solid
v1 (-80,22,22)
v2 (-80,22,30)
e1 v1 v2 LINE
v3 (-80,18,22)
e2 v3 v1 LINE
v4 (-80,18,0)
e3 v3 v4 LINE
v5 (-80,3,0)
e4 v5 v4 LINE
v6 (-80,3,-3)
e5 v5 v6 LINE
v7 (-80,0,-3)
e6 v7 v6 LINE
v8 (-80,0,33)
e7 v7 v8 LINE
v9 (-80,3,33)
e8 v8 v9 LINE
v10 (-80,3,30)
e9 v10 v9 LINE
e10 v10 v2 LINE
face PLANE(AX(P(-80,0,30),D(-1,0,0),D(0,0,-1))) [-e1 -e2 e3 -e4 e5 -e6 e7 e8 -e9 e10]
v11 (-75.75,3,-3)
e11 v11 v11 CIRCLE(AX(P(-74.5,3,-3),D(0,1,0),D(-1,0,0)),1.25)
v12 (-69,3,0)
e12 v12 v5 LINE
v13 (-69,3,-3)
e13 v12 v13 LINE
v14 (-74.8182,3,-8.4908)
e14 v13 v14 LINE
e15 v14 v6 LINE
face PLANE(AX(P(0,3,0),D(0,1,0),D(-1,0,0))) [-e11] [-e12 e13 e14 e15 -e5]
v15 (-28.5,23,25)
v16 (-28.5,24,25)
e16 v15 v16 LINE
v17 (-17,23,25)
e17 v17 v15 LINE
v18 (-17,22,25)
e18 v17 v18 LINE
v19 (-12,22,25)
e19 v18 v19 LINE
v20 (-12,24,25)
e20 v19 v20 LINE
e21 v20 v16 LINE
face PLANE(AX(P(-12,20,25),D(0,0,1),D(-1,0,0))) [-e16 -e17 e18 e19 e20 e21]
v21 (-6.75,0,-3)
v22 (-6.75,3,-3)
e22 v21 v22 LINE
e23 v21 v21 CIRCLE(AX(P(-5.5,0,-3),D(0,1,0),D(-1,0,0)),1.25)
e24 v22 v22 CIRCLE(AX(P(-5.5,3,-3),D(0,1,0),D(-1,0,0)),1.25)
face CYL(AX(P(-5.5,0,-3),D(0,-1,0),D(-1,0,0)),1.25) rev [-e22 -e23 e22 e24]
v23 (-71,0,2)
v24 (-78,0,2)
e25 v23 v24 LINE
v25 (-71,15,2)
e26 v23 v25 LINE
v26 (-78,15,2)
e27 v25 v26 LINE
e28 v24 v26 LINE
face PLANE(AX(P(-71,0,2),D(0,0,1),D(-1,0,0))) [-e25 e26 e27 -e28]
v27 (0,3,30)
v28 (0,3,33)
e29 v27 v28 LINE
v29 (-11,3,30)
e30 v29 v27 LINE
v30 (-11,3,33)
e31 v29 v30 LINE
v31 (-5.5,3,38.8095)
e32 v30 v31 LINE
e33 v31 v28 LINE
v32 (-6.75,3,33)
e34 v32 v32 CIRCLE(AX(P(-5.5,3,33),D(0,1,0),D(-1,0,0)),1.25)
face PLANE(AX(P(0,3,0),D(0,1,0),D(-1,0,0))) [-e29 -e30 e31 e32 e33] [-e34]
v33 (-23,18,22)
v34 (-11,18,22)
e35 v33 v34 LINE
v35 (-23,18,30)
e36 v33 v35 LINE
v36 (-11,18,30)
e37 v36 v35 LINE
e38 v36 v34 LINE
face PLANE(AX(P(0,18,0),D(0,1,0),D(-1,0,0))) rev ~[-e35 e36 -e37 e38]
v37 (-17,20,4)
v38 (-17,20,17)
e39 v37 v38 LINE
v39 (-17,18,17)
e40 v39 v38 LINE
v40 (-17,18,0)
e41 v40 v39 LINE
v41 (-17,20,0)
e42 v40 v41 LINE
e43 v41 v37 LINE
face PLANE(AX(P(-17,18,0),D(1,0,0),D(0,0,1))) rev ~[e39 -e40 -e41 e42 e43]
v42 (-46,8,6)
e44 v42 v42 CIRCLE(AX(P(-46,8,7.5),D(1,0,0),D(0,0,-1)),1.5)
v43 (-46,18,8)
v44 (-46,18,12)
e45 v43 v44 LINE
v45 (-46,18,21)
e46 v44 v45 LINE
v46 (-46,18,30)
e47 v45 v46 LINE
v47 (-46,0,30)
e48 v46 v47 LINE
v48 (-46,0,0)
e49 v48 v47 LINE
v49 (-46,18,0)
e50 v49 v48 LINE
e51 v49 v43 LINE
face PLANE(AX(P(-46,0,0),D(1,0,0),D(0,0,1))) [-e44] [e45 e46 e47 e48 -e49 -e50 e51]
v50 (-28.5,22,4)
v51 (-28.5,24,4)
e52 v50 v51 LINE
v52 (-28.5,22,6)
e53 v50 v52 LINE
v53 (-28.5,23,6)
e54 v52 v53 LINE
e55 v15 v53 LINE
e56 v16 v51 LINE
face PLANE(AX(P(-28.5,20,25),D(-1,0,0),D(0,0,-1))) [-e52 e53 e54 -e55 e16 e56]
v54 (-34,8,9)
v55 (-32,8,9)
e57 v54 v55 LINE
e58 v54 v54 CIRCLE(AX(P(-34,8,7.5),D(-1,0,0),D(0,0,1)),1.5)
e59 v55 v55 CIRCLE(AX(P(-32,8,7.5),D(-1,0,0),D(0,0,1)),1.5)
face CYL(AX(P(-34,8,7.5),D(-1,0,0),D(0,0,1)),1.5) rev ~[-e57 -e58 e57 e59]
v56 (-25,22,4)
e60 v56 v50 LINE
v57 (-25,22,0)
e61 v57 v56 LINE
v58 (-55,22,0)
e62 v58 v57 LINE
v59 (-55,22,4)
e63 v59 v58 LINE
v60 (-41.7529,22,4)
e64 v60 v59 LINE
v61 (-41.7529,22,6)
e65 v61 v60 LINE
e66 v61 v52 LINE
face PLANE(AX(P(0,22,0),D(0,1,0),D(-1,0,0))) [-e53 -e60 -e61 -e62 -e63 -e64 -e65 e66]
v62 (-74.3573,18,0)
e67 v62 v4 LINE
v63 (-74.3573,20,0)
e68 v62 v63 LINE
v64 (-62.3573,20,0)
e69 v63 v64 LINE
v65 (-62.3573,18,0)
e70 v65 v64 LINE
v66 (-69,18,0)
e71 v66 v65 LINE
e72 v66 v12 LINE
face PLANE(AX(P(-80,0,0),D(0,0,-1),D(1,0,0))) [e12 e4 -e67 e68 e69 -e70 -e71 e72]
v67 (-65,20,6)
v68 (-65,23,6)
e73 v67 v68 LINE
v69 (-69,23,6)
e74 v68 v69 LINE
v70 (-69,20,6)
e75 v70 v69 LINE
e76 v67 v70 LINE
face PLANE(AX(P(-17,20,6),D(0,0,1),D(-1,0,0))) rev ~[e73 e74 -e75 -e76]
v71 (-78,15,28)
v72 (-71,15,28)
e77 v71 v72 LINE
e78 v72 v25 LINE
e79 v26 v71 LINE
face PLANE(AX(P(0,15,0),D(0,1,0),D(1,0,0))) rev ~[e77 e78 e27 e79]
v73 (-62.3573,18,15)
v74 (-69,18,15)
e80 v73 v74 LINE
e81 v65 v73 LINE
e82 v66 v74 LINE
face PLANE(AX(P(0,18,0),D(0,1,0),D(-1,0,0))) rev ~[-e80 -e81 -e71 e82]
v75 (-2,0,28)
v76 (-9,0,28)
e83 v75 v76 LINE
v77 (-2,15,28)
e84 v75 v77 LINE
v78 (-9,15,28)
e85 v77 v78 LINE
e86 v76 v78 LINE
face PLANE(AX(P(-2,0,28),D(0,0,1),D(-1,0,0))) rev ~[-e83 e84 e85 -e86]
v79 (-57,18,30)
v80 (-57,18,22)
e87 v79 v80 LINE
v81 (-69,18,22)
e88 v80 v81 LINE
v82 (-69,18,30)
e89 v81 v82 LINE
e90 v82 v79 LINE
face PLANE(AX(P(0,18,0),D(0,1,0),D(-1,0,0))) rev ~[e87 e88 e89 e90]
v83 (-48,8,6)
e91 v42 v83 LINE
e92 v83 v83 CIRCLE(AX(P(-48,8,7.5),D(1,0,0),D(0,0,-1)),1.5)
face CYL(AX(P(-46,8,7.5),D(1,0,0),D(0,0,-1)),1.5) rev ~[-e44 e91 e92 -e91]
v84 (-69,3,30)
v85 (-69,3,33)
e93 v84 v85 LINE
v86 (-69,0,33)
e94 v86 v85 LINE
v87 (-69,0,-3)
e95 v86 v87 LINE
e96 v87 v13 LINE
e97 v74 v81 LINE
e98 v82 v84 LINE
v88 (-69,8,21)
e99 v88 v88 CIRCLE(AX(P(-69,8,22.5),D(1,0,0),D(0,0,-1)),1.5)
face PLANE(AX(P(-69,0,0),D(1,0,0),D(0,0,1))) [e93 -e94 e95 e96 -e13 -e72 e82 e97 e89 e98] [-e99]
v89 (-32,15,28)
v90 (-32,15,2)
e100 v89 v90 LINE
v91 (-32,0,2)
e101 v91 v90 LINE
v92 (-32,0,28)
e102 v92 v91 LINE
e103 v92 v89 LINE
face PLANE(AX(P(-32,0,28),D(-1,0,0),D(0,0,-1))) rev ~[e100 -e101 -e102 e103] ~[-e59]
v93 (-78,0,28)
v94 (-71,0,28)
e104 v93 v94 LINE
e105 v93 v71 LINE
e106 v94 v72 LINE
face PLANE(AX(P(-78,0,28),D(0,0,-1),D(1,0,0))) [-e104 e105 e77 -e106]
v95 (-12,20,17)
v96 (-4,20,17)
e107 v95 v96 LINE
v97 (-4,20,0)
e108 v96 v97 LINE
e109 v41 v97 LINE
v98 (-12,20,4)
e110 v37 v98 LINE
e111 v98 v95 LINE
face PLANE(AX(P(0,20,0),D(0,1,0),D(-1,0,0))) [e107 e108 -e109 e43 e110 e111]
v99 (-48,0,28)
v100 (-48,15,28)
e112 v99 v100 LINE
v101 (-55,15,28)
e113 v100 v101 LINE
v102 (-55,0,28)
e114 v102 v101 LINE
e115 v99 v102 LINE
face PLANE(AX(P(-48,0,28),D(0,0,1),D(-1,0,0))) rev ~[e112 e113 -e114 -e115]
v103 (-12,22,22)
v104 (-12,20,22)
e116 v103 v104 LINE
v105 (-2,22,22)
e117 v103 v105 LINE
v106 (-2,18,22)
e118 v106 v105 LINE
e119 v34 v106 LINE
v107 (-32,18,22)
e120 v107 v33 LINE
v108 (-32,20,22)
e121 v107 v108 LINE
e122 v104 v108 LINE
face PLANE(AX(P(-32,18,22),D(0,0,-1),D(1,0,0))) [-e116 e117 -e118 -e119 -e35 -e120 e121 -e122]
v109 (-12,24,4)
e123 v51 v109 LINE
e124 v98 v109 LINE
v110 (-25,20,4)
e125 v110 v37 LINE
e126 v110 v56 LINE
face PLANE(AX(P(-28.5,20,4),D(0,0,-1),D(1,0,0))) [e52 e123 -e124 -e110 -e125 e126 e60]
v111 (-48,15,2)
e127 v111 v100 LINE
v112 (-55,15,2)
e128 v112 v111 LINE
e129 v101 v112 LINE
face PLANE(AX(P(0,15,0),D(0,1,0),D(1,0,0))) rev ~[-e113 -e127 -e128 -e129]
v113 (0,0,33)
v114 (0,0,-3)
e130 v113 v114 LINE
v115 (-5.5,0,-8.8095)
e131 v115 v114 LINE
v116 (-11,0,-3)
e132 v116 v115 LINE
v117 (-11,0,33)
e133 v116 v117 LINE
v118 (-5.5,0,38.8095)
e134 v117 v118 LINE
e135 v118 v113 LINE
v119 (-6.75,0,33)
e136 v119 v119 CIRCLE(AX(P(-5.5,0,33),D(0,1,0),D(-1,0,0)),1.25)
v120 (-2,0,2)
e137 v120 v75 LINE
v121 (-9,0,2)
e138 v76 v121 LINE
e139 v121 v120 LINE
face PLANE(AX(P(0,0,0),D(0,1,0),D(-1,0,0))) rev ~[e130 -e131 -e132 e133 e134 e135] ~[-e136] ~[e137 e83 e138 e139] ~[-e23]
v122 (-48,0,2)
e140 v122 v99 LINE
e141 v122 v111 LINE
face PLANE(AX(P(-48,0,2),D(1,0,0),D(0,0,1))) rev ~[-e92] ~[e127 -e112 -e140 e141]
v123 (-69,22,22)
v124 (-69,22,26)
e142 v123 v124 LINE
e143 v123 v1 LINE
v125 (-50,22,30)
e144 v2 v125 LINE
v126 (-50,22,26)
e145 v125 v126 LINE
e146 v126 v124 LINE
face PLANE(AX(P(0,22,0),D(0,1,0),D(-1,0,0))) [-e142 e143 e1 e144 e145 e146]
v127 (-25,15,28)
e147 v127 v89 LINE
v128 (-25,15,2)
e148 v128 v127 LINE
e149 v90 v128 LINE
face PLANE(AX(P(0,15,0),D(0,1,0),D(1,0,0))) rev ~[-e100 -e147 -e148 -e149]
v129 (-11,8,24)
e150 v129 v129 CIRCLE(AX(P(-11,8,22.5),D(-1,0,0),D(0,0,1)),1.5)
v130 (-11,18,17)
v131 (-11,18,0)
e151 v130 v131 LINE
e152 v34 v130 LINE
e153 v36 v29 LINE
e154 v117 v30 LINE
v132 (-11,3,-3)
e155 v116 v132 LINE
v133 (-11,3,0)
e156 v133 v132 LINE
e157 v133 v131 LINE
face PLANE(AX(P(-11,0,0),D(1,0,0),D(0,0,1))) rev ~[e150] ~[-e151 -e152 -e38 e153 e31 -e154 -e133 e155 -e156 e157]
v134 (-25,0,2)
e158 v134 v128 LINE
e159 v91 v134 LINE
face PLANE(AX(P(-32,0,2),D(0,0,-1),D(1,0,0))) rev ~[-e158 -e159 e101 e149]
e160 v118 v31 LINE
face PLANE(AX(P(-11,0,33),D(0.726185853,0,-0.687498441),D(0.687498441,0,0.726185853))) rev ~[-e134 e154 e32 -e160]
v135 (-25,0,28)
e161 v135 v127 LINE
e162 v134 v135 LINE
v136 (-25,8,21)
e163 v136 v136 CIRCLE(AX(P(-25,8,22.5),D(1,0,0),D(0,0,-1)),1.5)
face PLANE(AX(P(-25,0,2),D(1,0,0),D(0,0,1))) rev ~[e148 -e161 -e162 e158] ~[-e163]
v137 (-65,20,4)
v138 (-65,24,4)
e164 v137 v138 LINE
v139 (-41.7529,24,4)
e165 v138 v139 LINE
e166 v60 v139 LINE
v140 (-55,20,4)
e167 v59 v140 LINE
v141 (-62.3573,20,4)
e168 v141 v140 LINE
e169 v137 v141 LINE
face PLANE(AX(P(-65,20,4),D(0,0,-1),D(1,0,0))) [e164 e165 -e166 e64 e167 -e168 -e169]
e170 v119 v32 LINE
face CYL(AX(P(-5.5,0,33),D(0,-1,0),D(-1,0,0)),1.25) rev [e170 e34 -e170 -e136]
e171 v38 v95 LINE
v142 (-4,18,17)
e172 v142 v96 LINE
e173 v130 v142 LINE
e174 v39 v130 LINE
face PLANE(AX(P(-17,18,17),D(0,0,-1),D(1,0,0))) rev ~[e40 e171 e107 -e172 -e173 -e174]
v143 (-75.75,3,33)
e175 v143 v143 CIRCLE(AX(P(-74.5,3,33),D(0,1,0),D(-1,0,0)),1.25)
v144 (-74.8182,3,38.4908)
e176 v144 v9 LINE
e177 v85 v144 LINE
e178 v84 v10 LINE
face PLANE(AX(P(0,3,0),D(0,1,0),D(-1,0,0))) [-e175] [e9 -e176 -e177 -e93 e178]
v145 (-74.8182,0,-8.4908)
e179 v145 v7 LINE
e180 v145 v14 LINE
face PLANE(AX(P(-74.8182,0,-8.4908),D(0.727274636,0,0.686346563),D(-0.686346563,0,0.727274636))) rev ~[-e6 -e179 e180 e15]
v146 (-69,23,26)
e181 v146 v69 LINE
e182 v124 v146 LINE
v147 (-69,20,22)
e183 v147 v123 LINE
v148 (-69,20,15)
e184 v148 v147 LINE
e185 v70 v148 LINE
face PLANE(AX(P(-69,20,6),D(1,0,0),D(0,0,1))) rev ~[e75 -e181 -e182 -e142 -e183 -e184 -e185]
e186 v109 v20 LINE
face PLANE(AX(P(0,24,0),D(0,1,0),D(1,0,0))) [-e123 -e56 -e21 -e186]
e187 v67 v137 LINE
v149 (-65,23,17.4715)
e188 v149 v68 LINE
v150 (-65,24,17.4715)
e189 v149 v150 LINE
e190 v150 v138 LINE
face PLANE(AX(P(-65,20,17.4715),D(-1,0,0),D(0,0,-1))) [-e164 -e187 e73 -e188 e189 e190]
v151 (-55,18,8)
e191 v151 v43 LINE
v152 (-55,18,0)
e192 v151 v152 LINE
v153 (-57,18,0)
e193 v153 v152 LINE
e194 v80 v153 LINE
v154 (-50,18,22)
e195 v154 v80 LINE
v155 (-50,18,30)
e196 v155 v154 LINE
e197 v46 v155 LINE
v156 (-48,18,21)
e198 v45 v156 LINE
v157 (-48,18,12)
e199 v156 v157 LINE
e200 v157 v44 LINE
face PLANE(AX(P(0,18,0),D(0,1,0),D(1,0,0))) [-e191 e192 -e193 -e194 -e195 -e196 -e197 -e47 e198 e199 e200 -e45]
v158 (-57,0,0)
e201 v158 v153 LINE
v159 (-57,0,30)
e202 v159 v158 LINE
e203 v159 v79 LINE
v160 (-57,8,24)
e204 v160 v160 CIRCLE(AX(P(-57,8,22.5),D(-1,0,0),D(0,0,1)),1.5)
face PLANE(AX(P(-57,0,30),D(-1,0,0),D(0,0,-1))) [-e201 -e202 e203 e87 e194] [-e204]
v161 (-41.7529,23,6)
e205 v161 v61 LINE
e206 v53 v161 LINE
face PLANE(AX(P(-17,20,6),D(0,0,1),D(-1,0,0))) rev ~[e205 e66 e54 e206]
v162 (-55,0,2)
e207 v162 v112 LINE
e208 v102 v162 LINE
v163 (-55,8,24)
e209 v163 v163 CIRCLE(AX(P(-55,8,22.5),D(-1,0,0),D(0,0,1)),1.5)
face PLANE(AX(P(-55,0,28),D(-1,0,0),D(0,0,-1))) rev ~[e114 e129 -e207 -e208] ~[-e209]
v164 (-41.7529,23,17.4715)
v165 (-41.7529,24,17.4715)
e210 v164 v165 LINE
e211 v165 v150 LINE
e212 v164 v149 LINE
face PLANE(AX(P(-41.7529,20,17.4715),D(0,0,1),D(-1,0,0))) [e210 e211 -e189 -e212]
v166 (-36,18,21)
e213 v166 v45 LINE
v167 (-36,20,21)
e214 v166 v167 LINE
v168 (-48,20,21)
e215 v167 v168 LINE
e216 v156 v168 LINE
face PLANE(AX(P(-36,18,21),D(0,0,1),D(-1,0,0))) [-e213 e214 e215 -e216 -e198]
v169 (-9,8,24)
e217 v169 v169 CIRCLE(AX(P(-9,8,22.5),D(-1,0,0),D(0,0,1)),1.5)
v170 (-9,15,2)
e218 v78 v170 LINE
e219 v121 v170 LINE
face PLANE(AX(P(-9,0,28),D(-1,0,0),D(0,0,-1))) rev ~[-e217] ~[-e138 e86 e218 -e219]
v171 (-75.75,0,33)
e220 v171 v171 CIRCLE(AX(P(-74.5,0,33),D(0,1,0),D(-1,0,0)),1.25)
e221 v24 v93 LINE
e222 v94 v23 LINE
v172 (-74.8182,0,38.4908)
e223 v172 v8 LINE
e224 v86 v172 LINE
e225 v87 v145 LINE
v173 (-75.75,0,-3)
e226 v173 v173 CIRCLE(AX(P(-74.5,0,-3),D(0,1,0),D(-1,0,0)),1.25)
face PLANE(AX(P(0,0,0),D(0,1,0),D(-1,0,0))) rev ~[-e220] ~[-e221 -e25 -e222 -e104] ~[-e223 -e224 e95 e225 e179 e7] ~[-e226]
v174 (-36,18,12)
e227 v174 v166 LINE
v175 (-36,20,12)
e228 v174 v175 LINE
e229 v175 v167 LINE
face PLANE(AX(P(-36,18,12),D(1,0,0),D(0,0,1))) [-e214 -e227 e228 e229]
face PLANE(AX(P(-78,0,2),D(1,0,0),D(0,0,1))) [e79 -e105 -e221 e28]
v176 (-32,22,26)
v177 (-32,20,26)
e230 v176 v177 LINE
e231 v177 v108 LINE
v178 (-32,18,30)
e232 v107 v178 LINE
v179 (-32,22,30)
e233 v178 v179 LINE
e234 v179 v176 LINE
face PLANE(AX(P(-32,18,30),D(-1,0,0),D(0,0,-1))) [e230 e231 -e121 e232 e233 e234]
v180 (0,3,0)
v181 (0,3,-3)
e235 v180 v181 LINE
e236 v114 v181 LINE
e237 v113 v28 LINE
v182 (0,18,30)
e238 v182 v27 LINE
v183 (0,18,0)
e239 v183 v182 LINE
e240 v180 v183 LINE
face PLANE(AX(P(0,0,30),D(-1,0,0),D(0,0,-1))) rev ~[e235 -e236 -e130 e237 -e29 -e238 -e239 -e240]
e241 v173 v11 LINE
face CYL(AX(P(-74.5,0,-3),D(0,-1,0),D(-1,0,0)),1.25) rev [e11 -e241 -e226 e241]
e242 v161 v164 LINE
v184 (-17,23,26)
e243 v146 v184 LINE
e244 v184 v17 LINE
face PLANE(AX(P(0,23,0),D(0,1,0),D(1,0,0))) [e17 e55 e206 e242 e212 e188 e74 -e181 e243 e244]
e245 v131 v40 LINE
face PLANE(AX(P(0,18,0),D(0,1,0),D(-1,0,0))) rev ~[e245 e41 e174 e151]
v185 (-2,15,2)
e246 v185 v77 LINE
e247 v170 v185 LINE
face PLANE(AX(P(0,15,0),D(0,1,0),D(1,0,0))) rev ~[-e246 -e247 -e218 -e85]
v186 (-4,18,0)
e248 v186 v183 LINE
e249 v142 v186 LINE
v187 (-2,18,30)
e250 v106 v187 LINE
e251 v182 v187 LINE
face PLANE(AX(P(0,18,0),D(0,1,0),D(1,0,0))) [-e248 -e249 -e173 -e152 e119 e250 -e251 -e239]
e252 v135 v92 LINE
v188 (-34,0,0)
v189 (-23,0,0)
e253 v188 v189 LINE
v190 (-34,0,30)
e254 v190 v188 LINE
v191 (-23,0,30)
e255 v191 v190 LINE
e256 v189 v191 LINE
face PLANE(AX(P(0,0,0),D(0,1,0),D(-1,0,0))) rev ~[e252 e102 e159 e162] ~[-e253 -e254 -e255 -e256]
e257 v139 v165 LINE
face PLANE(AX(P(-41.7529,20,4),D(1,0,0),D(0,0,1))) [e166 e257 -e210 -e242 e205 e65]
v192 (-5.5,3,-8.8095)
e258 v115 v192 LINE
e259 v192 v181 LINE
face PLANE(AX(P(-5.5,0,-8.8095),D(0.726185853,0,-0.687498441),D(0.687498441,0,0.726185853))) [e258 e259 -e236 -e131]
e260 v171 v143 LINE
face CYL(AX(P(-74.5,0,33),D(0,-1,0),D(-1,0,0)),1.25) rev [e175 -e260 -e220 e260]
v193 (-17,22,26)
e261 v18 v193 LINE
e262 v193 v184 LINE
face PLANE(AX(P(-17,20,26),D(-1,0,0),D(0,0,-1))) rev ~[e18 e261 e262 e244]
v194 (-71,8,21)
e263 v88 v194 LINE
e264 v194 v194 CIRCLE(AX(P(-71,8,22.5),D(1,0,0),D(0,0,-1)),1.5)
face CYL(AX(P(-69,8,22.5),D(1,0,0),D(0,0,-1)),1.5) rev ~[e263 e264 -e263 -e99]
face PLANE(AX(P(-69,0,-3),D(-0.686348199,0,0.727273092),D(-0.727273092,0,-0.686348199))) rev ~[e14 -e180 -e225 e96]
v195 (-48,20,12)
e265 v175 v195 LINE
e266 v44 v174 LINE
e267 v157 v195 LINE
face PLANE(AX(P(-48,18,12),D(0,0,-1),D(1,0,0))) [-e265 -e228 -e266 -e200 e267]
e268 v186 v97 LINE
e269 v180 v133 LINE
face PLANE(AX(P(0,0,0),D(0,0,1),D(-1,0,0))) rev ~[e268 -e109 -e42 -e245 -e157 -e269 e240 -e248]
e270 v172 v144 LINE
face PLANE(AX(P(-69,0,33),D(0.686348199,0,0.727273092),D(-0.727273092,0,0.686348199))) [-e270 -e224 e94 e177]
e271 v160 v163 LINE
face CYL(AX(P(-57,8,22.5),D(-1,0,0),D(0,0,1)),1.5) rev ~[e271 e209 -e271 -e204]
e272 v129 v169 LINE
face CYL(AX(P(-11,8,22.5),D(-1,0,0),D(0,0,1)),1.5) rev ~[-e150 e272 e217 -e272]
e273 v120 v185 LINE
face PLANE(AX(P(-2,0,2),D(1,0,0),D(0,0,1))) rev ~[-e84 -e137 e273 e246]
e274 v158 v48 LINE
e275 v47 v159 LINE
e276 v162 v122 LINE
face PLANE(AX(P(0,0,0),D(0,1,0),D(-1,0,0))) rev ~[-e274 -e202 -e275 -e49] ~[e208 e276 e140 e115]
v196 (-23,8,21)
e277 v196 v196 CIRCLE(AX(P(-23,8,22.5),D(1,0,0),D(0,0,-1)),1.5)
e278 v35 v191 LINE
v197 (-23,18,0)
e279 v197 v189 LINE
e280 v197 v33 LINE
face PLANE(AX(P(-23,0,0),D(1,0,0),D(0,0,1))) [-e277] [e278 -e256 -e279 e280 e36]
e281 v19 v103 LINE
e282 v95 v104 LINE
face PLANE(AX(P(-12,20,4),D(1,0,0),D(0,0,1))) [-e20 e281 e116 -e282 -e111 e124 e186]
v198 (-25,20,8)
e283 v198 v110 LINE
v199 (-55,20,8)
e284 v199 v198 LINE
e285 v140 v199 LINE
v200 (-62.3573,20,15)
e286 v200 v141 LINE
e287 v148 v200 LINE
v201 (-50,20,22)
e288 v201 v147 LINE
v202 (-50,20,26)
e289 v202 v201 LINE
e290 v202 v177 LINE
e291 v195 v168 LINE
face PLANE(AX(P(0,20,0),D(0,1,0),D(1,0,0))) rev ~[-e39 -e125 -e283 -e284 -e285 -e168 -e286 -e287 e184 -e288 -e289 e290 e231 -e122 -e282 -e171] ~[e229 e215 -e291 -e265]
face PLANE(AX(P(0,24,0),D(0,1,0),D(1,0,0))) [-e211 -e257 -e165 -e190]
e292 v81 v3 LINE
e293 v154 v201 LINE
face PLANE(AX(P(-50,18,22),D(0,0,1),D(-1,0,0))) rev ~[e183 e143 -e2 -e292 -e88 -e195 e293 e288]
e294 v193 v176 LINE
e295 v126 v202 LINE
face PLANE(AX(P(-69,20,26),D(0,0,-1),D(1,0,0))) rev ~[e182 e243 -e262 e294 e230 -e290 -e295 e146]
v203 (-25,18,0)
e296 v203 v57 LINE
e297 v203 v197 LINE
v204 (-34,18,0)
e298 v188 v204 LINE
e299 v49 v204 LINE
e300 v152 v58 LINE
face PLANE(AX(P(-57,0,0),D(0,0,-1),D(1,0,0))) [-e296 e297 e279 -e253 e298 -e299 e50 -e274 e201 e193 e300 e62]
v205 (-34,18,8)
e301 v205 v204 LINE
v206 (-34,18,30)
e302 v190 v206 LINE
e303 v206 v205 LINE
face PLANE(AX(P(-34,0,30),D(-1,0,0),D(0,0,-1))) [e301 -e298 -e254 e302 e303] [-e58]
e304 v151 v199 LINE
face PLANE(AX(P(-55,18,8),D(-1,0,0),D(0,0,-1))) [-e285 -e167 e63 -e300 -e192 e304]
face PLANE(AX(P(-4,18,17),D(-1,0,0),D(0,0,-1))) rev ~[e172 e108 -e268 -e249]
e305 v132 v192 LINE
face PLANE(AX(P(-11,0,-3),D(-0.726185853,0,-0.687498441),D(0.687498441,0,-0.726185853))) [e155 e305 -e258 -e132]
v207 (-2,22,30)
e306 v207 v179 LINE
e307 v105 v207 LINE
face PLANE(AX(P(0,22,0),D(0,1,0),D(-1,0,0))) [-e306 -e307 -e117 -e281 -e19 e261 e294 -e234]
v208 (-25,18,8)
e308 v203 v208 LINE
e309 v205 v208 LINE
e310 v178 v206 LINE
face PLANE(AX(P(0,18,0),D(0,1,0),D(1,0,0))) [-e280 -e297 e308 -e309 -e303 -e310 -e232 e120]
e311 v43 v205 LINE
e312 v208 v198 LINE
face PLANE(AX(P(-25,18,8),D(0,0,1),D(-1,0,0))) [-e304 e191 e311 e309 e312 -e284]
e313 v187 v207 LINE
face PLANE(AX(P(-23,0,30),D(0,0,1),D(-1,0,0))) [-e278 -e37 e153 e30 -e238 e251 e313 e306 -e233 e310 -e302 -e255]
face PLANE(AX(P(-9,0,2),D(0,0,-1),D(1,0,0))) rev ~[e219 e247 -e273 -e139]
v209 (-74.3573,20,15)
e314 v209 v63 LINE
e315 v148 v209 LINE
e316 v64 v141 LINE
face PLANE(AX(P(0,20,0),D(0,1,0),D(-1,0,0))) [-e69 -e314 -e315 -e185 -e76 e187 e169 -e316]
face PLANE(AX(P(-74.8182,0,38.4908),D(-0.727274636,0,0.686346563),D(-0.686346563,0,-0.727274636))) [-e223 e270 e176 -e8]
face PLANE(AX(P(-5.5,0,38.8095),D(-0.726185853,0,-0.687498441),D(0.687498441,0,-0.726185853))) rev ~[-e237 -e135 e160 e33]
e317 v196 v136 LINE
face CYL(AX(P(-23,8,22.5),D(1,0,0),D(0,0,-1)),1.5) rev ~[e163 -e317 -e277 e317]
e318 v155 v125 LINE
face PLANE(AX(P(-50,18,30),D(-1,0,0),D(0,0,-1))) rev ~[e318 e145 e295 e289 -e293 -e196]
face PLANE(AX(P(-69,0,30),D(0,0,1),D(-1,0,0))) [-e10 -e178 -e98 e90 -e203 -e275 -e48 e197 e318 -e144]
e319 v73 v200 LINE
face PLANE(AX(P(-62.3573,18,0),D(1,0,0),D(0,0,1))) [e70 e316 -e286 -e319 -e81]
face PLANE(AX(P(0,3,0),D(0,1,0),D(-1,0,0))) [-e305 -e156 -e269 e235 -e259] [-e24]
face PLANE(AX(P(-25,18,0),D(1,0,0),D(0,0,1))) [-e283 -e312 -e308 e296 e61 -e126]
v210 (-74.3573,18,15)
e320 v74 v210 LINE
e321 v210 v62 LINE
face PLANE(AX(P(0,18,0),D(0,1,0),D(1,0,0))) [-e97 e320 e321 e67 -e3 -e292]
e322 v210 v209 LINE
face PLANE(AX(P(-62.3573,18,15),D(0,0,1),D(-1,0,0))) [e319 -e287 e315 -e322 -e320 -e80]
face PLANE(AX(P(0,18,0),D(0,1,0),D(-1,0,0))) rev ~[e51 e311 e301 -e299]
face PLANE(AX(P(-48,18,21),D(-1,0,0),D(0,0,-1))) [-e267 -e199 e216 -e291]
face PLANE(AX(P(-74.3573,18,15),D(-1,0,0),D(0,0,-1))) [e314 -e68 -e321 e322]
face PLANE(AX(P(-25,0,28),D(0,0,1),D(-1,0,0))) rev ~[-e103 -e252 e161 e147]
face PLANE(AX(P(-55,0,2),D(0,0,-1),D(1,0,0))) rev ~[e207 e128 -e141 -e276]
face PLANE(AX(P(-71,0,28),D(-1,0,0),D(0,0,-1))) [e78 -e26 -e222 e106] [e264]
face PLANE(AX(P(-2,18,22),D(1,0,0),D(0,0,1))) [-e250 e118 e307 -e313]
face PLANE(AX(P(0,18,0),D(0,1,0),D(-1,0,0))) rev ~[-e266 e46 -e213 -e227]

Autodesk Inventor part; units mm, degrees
ref_plane "YZ Plane" through (0, 0, 0) normal (1, 0, 0) x (0, 1, 0)
ref_plane "XY Plane" through (0, 0, 0) normal (0, 0, 1) x (1, 0, 0)
sketch "Sketch1" plane through (0, 0, 0) normal (0, 1, 0) x (-1, 0, 0)
  line L0 (0, 0) -> (80, 0) construction
  line L1 (80, 0) -> (80, 30) construction
  line L2 (80, 30) -> (0, 30) construction
  line L3 (0, 30) -> (0, 0) construction
  dimension "d0" = 80
  dimension "d1" = 30
sketch "Sketch2" plane through (0, 0, 0) normal (0, 1, 0) x (-1, 0, 0)
  line L0 (80, 0) -> (69, 0)
  line L1 (69, 0) -> (69, 30)
  line L2 (69, 30) -> (80, 30)
  line L3 (80, 30) -> (80, 0)
  line L4 (0, 0) -> (11, 0)
  line L5 (11, 0) -> (11, 30)
  line L6 (11, 30) -> (0, 30)
  line L7 (0, 30) -> (0, 0)
  line L8 (57, 0) -> (46, 0)
  line L9 (46, 0) -> (46, 30)
  line L10 (46, 30) -> (57, 30)
  line L11 (57, 30) -> (57, 0)
  line L12 (34, 0) -> (23, 0)
  line L13 (23, 0) -> (23, 30)
  line L14 (23, 30) -> (34, 30)
  line L15 (34, 30) -> (34, 0)
  line L16 (69, 15) -> (57, 15) construction
  line L17 (46, 15) -> (34, 15) construction
  line L18 (23, 15) -> (11, 15) construction
  line L19 (71, 2) -> (78, 2)
  line L20 (78, 2) -> (78, 28)
  line L21 (78, 28) -> (71, 28)
  line L22 (71, 28) -> (71, 2)
  line L23 (55, 2) -> (48, 2)
  line L24 (48, 2) -> (48, 28)
  line L25 (48, 28) -> (55, 28)
  line L26 (55, 28) -> (55, 2)
  line L27 (32, 2) -> (25, 2)
  line L28 (25, 2) -> (25, 28)
  line L29 (25, 28) -> (32, 28)
  line L30 (32, 28) -> (32, 2)
  line L31 (9, 28) -> (9, 2)
  line L32 (9, 2) -> (2, 2)
  line L33 (2, 2) -> (2, 28)
  line L34 (2, 28) -> (9, 28)
  dimension "d2" = 11
  dimension "d3" = 30
  dimension "d4" = 11
  dimension "d6" = 11
  dimension "d8" = 11
  dimension "d9" = 80
  dimension "d10" = 2
  dimension "d11" = 2
  dimension "d12" = 2
  dimension "d13" = 2
extrude "Extrusion1" add sketch "Sketch2" along normal blind 15
sketch "Sketch3" plane through (0, 15, 0) normal (0, 1, 0) x (1, 0, 0)
  line L0 (-69, 0) -> (-80, 0) projected
  line L1 (-80, 0) -> (-69, 0)
  line L2 (-69, 0) -> (-69, -30)
  line L3 (-69, -30) -> (-80, -30)
  line L4 (-80, -30) -> (-80, 0)
  line L5 (-57, 0) -> (-46, 0)
  line L6 (-46, 0) -> (-46, -30)
  line L7 (-46, -30) -> (-57, -30)
  line L8 (-57, -30) -> (-57, 0)
  line L9 (-34, 0) -> (-23, 0)
  line L10 (-23, 0) -> (-23, -30)
  line L11 (-23, -30) -> (-34, -30)
  line L12 (-34, -30) -> (-34, 0)
  line L13 (-11, 0) -> (0, 0)
  line L14 (0, 0) -> (0, -30)
  line L15 (0, -30) -> (-11, -30)
  line L16 (-11, -30) -> (-11, 0)
  dimension "d16" = 30
  dimension "d19" = 23
extrude "Extrusion2" add sketch "Sketch3" along normal blind 3
sketch "Sketch4" plane through (-69, 0, 30) normal (1, 0, 0) x (0, 0, -1)
  circle A0 centre (7.5, 8) radius 1.5
  line L0 (2, 0) -> (28, 0) projected
  line L1 (0, 0) -> (0, 18) construction
  dimension "d26" = 3
  dimension "d28" = 8
  dimension "d29" = 7.5
extrude "Extrusion3" cut sketch "Sketch4" against normal blind 3
sketch "Sketch5" plane through (-57, 0, 0) normal (-1, 0, 0) x (0, 0, 1)
  circle A0 centre (22.5, 8) radius 1.5
  line L0 (30, 0) -> (30, 18) projected
  line L1 (2, 0) -> (28, 0) projected
  point P0 (0, 0)
  dimension "d33" = 3
  dimension "d34" = 7.5
  dimension "d35" = 8
extrude "Extrusion4" cut sketch "Sketch5" against normal blind 3
sketch "Sketch6" plane through (-46, 0, 30) normal (1, 0, 0) x (0, 0, -1)
  circle A0 centre (22.5, 8) radius 1.5
  line L0 (30, 0) -> (30, 18) projected
  line L1 (2, 0) -> (28, 0) projected
  dimension "d38" = 3
  dimension "d39" = 7.5
  dimension "d40" = 8
sketch "Sketch7" plane through (-34, 0, 0) normal (-1, 0, 0) x (0, 0, 1)
  circle A0 centre (7.5, 8) radius 1.5
  line L0 (2, 0) -> (28, 0) projected
  line L1 (0, 0) -> (0, 18) projected
  dimension "d41" = 3
  dimension "d42" = 8
  dimension "d43" = 7.5
sketch "Sketch8" plane through (-23, 0, 30) normal (1, 0, 0) x (0, 0, -1)
  circle A0 centre (7.5, 8) radius 1.5
  line L0 (2, 0) -> (28, 0) projected
  line L1 (0, 0) -> (0, 18) projected
  point P0 (30, 0)
  dimension "d44" = 3
  dimension "d45" = 8
  dimension "d46" = 7.5
sketch "Sketch9" plane through (-11, 0, 0) normal (-1, 0, 0) x (0, 0, 1)
  point P0 (0, 0)
sketch "Sketch10" plane through (-11, 0, 0) normal (-1, 0, 0) x (0, 0, 1)
  circle A0 centre (22.5, 8) radius 1.5
  line L0 (30, 0) -> (30, 18) projected
  line L1 (2, 0) -> (28, 0) projected
  point P0 (0, 0)
  dimension "d47" = 3
  dimension "d48" = 7.5
  dimension "d49" = 8
extrude "Extrusion5" cut sketch "Sketch6" against normal blind 3
extrude "Extrusion6" cut sketch "Sketch7" against normal blind 3
extrude "Extrusion7" cut sketch "Sketch8" against normal blind 3
extrude "Extrusion8" cut sketch "Sketch10" against normal blind 3
ref_plane "Work Plane1" through (0, 18, 0) normal (0, 1, 0) x (-1, 0, 0)
sketch "Sketch12" plane through (0, 18, 0) normal (0, 1, 0) x (-1, 0, 0)
  line L0 (80, 30) -> (50, 30)
  line L1 (50, 30) -> (50, 22)
  line L2 (50, 22) -> (80, 22)
  line L3 (80, 22) -> (80, 30)
  line L4 (55, 0) -> (25, 0)
  line L5 (25, 0) -> (25, 8)
  line L6 (25, 8) -> (55, 8)
  line L7 (55, 8) -> (55, 0)
  line L8 (32, 2) -> (32, 28) projected
  line L9 (32, 22) -> (2, 22)
  line L10 (2, 22) -> (2, 30)
  line L11 (2, 30) -> (32, 30)
  line L12 (32, 30) -> (32, 22)
  point P0 (0, 0)
  dimension "d59" = 30
  dimension "d60" = 8
  dimension "d61" = 30
  dimension "d62" = 8
  dimension "d63" = 30
sketch "Sketch13" plane through (0, 18, 0) normal (0, 1, 0) x (-1, 0, 0)
  line L0 (74.3573, 0) -> (62.3573, 0)
  line L1 (62.3573, 0) -> (62.3573, 15)
  line L2 (62.3573, 15) -> (74.3573, 15)
  line L3 (74.3573, 15) -> (74.3573, 0)
  line L4 (48, 12) -> (36, 12)
  line L5 (36, 12) -> (36, 21)
  line L6 (36, 21) -> (48, 21)
  line L7 (48, 21) -> (48, 12)
  line L8 (0, 0) -> (11, 0) projected
  line L9 (4, 0) -> (17, 0)
  line L10 (17, 0) -> (17, 17)
  line L11 (17, 17) -> (4, 17)
  line L12 (4, 17) -> (4, 0)
  dimension "d64" = 12
  dimension "d65" = 15
  dimension "d66" = 12
  dimension "d67" = 13
  dimension "d68" = 17
extrude "Extrusion9" add sketch "Sketch13" along normal blind 2
extrude "Extrusion10" add sketch "Sketch12" along normal blind 4
sketch "Sketch14" plane through (0, 20, 0) normal (0, 1, 0) x (1, 0, 0)
  line L0 (-65, -4) -> (-41.7529, -4)
  line L1 (-41.7529, -4) -> (-41.7529, -17.4715)
  line L2 (-41.7529, -17.4715) -> (-65, -17.4715)
  line L3 (-65, -17.4715) -> (-65, -4)
  line L4 (-12, -25) -> (-28.5, -25)
  line L5 (-28.5, -25) -> (-28.5, -4)
  line L6 (-28.5, -4) -> (-12, -4)
  line L7 (-12, -4) -> (-12, -25)
  point P0 (0, 0)
  dimension "d73" = 16.5
extrude "Extrusion11" add sketch "Sketch14" along normal blind 4
sketch "Sketch15" plane through (0, 20, 0) normal (0, 1, 0) x (1, 0, 0)
  line L0 (-69, -30) -> (-69, -22) projected
  line L1 (-69, -26) -> (-17, -26)
  line L2 (-17, -26) -> (-17, -6)
  line L3 (-17, -6) -> (-69, -6)
  line L4 (-69, -6) -> (-69, -26)
  point P0 (0, 0)
  dimension "d76" = 52
  dimension "d77" = 20
extrude "Extrusion12" add sketch "Sketch15" along normal blind 3
sketch "Sketch16" plane through (0, 0, 0) normal (0, 1, 0) x (-1, 0, 0)
  line L0 (69, 30) -> (80, 30) projected
  line L1 (80, 30) -> (80, 33)
  line L2 (69, 30) -> (69, 33)
  line L3 (69, 33) -> (74.8182, 38.4908)
  line L4 (74.8182, 38.4908) -> (80, 33)
  circle A0 centre (74.5, 33) radius 1.25
  line L5 (74.5, 33) -> (80, 33) construction
  line L6 (74.5, 33) -> (69, 33) construction
  line L7 (11, 30) -> (11, 33)
  line L8 (0, 30) -> (0, 33)
  line L9 (11, 33) -> (5.5, 38.8095)
  line L10 (5.5, 38.8095) -> (0, 33)
  circle A1 centre (5.5, 33) radius 1.25
  line L11 (5.5, 33) -> (11, 33) construction
  line L12 (5.5, 33) -> (0, 33) construction
  line L13 (80, 15) -> (0, 15) construction
  line L14 (69, 0) -> (80, 0)
  line L15 (80, 0) -> (80, -3)
  line L16 (69, 0) -> (69, -3)
  line L17 (69, -3) -> (74.8182, -8.4908)
  line L18 (74.8182, -8.4908) -> (80, -3)
  circle A2 centre (74.5, -3) radius 1.25
  line L19 (74.5, -3) -> (80, -3) construction
  line L20 (74.5, -3) -> (69, -3) construction
  line L21 (11, 0) -> (11, -3)
  line L22 (0, 0) -> (0, -3)
  line L23 (11, -3) -> (5.5, -8.8095)
  line L24 (5.5, -8.8095) -> (0, -3)
  circle A3 centre (5.5, -3) radius 1.25
  line L25 (5.5, -3) -> (11, -3) construction
  line L26 (5.5, -3) -> (0, -3) construction
  line L27 (80, 0) -> (69, 0) projected
  line L28 (80, 0) -> (69, 0)
  line L29 (11, 0) -> (0, 0)
  line L30 (4, 0) -> (17, 0) projected
  line L31 (11, 30) -> (0, 30)
  dimension "d80" = 3
  dimension "d81" = 3
  dimension "d82" = 8
  dimension "d83" = 2.5
  dimension "d84" = 3
  dimension "d85" = 3
  dimension "d86" = 3
  dimension "d87" = 8
  dimension "d88" = 2.5
extrude "Extrusion14" add sketch "Sketch16" along normal blind 3
equation "\"d11\" = d10"
equation "\"d12\" = d10"
equation "\"d13\" = d10"
equation "\"d81\" = d80"
equation "\"d84\" = d81"
equation "\"d85\" = d86"
equation "\"d86\" = d84"
equation "\"d87\" = d82"
properties part number "ball-waterfall"
